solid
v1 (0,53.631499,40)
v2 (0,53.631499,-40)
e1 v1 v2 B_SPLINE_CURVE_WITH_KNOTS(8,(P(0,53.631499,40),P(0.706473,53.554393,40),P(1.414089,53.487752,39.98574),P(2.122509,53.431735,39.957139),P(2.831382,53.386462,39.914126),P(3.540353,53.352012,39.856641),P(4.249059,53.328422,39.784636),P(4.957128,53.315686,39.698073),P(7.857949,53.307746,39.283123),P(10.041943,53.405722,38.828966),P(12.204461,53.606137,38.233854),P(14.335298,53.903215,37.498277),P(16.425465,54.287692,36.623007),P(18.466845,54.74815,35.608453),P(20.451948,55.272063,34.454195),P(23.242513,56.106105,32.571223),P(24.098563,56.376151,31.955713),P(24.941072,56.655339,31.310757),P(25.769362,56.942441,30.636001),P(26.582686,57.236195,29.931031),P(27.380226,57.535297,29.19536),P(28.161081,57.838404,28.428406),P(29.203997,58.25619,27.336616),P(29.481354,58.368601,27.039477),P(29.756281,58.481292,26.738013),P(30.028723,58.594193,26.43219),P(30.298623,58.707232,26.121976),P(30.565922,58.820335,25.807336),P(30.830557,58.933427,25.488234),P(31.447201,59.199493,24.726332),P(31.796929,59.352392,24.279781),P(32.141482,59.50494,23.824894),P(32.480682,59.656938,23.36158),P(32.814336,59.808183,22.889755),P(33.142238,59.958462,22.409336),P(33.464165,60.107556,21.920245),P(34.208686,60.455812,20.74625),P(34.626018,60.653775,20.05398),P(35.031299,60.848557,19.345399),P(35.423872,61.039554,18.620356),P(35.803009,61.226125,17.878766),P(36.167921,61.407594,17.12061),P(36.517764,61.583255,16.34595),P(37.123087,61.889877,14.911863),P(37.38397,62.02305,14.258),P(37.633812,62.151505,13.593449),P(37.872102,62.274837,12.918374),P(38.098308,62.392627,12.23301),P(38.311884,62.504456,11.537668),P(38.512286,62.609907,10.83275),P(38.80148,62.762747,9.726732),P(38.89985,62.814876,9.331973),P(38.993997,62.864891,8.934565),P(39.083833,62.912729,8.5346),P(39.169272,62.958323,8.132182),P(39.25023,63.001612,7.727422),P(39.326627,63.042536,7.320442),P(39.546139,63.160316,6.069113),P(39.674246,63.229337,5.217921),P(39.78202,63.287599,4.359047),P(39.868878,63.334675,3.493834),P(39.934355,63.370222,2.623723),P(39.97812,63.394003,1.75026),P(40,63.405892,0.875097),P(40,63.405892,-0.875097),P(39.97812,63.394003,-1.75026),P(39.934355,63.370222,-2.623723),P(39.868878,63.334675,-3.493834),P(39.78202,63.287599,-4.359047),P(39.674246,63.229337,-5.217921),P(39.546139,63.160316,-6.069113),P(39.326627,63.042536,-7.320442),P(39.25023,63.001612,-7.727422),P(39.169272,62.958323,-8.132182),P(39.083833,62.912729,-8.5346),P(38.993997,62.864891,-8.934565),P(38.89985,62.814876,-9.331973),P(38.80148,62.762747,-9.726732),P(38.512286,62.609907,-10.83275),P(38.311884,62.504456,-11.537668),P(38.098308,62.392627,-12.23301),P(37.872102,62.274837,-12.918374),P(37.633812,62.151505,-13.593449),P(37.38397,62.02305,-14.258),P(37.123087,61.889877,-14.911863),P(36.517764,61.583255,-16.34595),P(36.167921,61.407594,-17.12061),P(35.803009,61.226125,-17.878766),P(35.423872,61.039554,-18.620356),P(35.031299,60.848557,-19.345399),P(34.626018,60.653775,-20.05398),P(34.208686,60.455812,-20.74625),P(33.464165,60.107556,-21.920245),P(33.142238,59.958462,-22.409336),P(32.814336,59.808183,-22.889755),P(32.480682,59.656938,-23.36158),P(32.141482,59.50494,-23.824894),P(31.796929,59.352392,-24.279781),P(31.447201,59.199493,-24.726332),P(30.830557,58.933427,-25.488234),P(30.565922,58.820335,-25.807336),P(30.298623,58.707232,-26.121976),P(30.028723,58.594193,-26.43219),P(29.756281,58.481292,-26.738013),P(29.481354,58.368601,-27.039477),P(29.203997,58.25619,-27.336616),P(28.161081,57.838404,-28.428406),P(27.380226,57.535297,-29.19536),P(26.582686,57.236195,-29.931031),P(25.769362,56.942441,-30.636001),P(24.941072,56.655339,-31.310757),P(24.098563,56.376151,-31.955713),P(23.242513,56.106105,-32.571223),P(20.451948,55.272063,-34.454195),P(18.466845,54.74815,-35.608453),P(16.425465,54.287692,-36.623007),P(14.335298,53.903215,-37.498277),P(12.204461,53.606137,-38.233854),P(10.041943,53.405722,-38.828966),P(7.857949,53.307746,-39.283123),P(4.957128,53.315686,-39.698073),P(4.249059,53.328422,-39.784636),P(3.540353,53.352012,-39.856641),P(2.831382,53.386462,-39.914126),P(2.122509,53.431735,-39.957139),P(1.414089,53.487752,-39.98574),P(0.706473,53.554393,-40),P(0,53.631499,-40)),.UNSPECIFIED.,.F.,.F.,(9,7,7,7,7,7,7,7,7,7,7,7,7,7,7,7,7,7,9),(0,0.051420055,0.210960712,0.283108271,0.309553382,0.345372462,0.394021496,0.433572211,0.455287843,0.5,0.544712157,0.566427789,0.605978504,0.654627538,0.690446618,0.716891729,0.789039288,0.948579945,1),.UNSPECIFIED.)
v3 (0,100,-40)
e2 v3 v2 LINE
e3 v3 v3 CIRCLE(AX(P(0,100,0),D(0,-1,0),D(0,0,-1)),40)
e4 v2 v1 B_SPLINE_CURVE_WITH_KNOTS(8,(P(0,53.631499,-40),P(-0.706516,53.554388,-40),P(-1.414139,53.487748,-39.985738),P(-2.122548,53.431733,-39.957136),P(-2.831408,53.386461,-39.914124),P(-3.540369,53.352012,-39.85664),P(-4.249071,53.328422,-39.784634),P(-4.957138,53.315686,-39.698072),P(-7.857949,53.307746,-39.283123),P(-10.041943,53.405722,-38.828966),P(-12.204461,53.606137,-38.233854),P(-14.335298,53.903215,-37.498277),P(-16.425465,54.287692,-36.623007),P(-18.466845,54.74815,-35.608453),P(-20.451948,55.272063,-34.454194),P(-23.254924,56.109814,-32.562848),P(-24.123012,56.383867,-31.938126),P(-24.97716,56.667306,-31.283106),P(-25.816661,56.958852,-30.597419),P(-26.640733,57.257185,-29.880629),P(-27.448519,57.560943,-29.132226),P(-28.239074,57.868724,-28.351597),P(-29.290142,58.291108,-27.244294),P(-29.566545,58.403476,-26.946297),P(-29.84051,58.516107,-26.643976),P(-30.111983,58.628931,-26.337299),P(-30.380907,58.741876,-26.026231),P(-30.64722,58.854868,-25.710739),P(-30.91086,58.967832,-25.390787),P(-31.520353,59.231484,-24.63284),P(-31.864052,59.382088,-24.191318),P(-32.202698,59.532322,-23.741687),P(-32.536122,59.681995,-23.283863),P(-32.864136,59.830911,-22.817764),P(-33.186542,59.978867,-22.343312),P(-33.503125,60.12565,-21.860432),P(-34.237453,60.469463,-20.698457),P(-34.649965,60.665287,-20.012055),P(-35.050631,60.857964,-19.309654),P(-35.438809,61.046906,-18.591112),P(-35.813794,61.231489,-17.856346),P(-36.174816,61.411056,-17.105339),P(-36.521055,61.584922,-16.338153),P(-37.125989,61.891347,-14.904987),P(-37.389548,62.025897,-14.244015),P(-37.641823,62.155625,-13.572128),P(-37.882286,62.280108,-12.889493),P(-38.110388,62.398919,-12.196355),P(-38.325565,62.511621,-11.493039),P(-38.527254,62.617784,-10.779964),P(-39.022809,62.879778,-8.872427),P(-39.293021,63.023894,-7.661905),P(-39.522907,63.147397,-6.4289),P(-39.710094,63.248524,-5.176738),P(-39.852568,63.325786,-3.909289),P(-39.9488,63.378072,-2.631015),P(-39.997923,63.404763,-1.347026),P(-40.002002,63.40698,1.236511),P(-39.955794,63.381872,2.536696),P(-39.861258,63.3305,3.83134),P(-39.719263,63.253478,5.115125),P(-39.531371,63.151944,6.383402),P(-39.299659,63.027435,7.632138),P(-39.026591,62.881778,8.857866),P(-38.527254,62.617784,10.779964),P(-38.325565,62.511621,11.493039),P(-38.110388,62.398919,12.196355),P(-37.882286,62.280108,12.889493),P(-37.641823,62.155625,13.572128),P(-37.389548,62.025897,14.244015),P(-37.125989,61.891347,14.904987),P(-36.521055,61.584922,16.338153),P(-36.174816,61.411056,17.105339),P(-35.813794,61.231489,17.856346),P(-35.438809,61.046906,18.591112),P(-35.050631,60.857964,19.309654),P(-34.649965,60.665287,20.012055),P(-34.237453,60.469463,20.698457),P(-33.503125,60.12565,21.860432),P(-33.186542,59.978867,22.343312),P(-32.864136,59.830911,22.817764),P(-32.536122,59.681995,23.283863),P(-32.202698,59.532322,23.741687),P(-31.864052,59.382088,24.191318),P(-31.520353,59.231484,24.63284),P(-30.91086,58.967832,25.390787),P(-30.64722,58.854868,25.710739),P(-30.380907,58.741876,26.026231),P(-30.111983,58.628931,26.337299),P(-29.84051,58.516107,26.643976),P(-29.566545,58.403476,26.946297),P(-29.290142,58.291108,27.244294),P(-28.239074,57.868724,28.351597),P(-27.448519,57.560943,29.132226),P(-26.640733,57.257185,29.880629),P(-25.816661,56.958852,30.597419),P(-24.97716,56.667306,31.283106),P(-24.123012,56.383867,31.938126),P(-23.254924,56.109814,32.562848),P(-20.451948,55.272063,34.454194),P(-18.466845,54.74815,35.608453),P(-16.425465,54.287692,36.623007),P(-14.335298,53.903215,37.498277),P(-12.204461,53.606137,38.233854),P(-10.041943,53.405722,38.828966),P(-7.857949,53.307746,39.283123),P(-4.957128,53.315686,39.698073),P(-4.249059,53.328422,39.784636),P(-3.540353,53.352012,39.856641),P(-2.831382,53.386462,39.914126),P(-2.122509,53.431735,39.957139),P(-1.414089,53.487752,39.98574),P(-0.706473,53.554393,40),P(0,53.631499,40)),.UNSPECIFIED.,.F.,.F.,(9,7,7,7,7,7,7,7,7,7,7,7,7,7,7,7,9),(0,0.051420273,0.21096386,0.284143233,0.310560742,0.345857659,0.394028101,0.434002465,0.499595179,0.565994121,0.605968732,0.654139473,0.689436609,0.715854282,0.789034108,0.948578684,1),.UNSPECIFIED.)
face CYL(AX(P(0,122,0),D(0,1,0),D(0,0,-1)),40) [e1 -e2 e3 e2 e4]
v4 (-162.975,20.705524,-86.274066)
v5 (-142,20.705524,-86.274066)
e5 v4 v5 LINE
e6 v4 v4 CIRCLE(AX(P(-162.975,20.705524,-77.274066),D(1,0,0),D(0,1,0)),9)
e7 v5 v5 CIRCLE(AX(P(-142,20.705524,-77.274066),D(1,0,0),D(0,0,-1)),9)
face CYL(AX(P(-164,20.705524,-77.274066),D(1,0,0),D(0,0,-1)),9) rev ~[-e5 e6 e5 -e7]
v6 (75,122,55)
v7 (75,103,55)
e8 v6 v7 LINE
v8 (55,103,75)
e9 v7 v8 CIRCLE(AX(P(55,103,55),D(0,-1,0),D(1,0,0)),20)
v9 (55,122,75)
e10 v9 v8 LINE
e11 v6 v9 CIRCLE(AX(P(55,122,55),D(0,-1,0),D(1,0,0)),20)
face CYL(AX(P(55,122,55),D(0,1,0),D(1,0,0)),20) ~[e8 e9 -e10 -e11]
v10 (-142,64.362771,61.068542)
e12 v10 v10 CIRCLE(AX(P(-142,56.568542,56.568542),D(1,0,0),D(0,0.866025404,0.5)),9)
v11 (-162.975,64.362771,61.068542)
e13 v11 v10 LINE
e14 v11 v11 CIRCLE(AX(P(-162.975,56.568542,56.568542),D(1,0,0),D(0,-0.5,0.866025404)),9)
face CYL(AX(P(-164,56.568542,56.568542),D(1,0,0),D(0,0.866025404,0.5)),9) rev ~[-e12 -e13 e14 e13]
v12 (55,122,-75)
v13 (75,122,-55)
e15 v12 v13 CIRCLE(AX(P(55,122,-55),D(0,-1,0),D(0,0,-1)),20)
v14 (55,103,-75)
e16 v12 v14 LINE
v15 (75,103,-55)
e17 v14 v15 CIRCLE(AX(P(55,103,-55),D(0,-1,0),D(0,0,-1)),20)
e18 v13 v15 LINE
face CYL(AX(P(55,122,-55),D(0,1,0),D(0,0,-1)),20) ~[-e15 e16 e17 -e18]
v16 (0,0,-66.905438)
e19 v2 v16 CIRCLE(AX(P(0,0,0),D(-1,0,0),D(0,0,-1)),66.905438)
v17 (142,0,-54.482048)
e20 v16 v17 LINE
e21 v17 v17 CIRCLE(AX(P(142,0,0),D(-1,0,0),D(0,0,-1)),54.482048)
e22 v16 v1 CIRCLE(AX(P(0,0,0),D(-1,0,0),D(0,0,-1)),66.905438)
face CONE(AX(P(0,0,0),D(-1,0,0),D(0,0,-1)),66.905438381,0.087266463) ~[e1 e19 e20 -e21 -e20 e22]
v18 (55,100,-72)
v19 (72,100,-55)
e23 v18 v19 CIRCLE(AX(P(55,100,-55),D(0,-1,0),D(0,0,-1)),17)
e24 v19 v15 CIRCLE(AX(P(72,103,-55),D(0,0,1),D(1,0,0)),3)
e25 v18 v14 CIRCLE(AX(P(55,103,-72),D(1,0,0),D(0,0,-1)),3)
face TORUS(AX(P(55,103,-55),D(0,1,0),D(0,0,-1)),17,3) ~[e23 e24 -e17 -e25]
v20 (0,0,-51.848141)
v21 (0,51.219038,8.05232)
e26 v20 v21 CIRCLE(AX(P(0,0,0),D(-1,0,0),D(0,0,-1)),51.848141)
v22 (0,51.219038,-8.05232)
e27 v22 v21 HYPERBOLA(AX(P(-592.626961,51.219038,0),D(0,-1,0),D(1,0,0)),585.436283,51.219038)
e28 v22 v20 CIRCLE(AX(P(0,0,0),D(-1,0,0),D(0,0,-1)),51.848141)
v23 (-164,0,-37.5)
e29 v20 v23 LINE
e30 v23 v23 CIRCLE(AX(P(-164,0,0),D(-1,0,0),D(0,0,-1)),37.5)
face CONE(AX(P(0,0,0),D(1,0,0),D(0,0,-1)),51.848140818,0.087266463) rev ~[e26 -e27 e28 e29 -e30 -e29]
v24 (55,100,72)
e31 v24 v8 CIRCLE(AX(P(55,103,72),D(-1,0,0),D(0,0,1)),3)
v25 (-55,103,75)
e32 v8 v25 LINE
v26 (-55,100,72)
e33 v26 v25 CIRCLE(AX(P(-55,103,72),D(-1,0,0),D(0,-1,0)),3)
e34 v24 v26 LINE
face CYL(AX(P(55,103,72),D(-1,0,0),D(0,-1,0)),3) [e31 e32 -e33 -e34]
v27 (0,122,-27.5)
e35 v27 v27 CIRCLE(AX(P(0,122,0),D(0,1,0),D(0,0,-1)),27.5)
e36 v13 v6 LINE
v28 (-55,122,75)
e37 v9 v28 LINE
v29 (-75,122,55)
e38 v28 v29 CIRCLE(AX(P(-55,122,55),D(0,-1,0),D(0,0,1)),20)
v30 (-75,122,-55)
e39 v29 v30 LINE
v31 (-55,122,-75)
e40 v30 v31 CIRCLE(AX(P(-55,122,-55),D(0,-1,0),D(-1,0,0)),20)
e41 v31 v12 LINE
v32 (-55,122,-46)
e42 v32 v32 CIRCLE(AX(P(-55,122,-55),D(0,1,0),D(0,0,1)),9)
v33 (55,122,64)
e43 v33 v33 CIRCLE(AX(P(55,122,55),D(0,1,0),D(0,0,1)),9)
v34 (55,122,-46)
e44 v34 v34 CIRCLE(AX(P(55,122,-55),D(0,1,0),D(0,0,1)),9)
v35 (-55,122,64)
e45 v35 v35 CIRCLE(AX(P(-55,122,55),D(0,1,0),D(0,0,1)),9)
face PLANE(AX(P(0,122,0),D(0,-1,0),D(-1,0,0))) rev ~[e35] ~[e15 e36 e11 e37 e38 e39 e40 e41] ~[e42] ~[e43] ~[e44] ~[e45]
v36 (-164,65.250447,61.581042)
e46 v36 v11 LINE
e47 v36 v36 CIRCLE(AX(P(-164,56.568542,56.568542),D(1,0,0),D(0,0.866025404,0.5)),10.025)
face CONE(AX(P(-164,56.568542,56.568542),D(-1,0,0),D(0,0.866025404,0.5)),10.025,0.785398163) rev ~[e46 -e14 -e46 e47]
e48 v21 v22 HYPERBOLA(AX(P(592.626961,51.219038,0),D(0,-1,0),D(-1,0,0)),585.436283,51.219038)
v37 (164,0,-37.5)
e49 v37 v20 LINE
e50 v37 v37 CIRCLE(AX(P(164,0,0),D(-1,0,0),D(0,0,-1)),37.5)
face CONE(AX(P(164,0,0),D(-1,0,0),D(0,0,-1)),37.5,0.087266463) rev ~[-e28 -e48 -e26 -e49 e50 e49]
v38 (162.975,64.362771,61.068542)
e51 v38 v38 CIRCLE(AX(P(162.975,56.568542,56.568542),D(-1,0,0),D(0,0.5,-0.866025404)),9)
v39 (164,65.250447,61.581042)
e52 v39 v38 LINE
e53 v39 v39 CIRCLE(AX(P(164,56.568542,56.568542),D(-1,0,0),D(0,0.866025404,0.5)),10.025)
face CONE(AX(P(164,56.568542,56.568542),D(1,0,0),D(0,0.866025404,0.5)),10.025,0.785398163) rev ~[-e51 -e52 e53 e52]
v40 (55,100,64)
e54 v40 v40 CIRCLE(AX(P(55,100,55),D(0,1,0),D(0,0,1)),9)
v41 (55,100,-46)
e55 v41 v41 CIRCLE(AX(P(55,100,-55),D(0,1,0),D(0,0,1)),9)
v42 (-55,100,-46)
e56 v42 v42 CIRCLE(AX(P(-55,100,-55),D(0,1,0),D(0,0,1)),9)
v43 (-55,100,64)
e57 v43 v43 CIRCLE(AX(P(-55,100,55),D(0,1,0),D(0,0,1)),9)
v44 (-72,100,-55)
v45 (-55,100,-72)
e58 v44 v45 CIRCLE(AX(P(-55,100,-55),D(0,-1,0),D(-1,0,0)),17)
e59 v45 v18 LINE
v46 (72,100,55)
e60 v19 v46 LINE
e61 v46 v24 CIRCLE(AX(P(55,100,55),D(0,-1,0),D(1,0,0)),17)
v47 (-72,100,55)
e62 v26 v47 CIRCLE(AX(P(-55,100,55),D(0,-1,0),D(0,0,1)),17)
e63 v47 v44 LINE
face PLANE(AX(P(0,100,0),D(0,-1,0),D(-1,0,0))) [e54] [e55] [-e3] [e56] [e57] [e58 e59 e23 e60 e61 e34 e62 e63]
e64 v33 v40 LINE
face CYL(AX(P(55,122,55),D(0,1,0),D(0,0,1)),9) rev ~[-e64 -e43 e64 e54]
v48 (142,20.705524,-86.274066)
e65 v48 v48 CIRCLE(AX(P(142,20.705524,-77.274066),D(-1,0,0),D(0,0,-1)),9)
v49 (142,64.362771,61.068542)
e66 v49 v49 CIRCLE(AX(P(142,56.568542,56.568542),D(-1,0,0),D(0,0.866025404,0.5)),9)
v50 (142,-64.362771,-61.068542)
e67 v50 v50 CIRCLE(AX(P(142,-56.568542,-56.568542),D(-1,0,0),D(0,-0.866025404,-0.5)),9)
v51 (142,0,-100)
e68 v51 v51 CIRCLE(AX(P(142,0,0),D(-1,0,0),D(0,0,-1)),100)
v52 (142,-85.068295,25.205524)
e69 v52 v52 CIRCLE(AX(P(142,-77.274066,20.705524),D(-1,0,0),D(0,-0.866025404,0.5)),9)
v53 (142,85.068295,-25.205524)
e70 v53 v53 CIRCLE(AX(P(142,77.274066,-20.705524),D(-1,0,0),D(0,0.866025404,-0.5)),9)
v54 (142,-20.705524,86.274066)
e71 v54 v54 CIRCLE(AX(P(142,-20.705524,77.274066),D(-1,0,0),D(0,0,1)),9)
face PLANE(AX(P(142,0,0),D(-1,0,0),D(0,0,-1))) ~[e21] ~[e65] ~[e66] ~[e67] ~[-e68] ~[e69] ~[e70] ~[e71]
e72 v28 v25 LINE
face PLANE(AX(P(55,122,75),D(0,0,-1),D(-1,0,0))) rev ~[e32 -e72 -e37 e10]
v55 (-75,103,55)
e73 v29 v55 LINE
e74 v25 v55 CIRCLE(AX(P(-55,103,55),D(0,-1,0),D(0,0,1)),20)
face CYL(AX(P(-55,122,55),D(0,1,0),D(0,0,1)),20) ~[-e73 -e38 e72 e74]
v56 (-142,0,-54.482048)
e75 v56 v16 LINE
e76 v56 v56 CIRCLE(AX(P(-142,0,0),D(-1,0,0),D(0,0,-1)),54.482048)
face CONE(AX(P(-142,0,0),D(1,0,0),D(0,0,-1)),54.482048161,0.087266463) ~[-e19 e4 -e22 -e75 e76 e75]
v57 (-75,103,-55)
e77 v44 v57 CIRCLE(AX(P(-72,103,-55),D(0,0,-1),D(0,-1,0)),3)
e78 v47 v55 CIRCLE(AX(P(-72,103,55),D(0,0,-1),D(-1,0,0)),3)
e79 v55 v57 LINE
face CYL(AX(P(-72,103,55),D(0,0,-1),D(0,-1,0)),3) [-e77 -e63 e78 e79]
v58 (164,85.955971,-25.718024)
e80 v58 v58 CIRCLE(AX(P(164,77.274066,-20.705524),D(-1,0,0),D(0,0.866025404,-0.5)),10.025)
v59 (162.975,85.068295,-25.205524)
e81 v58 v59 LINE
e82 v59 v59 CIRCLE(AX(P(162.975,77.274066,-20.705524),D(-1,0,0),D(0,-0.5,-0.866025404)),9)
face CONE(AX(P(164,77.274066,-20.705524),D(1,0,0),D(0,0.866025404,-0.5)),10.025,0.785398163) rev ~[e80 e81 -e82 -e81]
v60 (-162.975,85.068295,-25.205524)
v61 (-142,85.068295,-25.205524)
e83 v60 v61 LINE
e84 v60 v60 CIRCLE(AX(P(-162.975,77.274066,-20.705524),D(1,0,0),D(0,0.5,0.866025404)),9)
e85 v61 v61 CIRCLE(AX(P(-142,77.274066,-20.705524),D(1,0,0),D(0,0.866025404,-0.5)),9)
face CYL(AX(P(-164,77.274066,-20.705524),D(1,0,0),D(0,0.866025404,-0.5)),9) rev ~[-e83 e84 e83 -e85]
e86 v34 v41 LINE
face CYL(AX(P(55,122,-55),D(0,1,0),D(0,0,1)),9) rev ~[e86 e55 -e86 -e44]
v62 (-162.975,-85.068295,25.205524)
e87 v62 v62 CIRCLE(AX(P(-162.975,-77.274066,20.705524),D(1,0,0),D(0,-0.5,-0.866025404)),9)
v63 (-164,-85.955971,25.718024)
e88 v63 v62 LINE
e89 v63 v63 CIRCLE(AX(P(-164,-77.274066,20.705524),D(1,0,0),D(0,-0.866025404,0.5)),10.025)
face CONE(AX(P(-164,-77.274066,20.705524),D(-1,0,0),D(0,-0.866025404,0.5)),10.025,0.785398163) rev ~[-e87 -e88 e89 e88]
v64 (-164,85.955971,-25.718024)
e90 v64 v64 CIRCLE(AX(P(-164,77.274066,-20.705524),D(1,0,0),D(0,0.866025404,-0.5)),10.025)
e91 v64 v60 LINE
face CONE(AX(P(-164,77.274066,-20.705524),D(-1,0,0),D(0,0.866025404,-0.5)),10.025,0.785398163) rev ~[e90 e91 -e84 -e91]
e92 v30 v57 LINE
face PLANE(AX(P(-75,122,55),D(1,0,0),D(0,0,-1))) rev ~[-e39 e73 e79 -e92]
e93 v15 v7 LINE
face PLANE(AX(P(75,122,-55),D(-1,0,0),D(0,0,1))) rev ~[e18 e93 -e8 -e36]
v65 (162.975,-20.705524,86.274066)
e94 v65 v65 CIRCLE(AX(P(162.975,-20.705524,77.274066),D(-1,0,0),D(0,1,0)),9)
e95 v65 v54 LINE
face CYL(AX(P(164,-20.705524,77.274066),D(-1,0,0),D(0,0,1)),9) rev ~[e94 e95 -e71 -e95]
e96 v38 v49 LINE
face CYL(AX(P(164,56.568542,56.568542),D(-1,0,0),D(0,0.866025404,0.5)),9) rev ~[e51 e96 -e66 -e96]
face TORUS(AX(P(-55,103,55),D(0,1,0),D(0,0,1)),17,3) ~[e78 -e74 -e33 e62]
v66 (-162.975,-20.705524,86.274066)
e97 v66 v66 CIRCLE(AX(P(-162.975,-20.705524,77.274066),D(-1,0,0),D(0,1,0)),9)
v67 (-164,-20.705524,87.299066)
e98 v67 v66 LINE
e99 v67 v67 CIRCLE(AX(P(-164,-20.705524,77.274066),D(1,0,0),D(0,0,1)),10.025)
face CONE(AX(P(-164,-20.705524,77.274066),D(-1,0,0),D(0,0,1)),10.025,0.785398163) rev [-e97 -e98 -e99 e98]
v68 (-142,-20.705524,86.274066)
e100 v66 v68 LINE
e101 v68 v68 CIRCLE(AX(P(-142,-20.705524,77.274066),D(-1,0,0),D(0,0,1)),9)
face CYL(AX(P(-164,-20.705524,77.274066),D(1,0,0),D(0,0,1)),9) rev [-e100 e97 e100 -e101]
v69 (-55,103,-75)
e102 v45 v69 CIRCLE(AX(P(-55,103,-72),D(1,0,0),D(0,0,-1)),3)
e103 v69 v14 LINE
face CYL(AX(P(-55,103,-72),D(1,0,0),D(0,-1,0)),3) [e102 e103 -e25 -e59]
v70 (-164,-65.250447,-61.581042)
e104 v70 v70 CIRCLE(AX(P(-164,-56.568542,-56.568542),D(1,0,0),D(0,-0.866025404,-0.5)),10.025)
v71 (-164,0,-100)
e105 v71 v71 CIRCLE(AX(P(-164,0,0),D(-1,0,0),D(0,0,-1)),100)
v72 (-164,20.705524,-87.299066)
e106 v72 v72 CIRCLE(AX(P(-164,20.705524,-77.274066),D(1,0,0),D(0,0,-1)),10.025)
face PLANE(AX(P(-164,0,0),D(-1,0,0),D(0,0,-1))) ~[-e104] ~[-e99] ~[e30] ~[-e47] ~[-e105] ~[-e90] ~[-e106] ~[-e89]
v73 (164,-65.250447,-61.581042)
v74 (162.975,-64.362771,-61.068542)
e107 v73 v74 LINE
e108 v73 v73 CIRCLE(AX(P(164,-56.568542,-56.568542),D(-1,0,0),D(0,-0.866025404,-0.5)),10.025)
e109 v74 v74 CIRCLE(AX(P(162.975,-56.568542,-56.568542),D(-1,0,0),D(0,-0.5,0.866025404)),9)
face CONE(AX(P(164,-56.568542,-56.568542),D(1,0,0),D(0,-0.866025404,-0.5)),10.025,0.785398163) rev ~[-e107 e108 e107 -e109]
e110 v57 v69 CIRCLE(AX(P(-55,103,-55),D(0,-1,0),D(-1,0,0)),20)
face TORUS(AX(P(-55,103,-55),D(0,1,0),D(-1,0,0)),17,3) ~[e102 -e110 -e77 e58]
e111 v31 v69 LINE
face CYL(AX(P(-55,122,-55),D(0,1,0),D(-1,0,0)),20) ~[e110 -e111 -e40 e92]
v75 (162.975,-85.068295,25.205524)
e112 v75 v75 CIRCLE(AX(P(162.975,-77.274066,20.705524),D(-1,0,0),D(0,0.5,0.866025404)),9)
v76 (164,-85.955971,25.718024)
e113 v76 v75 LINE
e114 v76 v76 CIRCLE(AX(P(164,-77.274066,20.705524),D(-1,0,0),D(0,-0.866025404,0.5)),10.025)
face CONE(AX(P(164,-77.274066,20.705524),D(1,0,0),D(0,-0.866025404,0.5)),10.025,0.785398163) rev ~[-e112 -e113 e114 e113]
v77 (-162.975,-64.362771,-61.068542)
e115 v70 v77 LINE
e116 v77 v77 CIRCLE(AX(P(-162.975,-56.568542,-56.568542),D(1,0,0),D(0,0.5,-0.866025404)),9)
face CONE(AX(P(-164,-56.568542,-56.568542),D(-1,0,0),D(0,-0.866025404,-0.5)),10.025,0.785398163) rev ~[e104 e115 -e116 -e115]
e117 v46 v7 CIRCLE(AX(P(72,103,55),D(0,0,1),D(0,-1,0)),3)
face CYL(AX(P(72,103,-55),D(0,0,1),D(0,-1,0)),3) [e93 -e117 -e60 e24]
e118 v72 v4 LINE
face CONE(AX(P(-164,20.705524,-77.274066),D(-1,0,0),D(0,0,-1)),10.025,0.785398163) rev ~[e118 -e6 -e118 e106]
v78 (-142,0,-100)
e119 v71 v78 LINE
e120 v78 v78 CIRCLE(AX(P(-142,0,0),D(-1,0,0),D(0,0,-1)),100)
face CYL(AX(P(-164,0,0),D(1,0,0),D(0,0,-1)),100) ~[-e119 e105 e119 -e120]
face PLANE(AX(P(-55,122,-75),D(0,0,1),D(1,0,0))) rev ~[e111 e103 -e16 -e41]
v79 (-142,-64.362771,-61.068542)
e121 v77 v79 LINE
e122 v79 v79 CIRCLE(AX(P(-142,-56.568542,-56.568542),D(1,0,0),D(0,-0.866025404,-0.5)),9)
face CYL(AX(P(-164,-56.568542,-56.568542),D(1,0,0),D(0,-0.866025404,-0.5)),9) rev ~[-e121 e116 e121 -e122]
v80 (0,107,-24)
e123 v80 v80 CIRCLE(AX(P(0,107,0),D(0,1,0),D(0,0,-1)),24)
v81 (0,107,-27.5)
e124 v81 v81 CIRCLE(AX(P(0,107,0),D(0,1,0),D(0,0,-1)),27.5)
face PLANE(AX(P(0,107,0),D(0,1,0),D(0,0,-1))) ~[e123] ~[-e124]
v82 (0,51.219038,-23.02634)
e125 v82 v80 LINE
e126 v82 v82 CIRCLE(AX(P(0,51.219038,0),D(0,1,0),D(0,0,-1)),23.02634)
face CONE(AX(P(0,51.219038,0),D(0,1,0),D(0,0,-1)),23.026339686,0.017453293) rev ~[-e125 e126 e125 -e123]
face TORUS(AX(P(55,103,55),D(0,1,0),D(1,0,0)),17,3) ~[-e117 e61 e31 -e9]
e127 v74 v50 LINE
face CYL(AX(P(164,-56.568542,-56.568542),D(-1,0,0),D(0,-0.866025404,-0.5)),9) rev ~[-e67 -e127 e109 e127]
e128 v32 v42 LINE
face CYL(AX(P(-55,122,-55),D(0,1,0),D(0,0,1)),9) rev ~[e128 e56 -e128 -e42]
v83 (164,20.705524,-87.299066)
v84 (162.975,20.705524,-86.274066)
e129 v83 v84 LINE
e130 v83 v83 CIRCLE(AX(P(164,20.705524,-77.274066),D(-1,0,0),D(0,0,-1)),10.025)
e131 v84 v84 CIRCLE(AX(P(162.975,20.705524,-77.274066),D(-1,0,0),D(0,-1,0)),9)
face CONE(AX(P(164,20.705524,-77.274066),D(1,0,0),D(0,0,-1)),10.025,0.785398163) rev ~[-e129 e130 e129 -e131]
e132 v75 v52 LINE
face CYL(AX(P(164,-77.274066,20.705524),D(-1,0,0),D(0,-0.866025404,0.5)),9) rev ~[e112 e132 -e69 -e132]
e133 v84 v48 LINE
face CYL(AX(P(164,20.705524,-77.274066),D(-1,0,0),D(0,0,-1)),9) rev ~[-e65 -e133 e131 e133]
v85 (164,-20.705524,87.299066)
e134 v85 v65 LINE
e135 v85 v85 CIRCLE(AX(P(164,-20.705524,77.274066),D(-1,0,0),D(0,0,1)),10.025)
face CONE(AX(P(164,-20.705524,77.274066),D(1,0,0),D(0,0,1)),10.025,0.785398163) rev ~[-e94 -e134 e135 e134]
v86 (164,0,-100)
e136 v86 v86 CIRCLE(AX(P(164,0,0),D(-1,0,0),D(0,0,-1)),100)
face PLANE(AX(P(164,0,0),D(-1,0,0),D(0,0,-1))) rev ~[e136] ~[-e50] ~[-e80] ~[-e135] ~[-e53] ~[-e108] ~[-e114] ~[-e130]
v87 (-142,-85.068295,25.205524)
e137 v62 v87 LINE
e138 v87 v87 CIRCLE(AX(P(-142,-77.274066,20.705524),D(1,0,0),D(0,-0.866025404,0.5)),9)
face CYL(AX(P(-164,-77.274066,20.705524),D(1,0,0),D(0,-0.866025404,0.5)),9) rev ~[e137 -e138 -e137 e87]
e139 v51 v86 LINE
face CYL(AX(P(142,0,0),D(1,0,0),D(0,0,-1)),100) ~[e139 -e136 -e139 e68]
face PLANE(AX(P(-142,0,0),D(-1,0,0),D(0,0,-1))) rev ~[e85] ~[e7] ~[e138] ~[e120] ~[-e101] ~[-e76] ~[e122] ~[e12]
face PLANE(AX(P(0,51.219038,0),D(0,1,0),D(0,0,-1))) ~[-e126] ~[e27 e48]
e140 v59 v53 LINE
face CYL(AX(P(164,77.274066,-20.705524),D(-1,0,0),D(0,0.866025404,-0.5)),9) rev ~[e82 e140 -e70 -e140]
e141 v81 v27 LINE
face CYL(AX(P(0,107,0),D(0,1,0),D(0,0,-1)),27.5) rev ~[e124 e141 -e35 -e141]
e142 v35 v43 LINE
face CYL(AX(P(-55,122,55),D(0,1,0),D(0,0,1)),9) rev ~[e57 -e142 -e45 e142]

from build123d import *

# Parameters (mm, degrees)
SKETCH6_R                        = 40
SKETCH6_R_2                      = 9
BOSS_EXTRUDE2_DEPTH              = 22
BOSS_EXTRUDE3_REACH              = 295.564
SKETCH6_2_R                      = 40
FILLET1_R                        = 3
F_20_0MM_DOWEL_HOLE2_D           = 18
F_20_0MM_DOWEL_HOLE2_DEPTH       = 22
F_20_0MM_DOWEL_HOLE2_CSINK_D     = 20.05
F_20_0MM_DOWEL_HOLE2_CSINK_ANGLE = 90
CIRPATTERN5_COUNT                = 6
MIRROR1_COPY_1_D                 = 18
MIRROR1_COPY_1_DEPTH             = 22
MIRROR1_COPY_1_CSINK_D           = 20.05
MIRROR1_COPY_1_CSINK_ANGLE       = 90
MIRROR1_COPY_2_D                 = 18
MIRROR1_COPY_2_DEPTH             = 22
MIRROR1_COPY_2_CSINK_D           = 20.05
MIRROR1_COPY_2_CSINK_ANGLE       = 90
MIRROR1_COPY_3_D                 = 18
MIRROR1_COPY_3_DEPTH             = 22
MIRROR1_COPY_3_CSINK_D           = 20.05
MIRROR1_COPY_3_CSINK_ANGLE       = 90
MIRROR1_COPY_4_D                 = 18
MIRROR1_COPY_4_DEPTH             = 22
MIRROR1_COPY_4_CSINK_D           = 20.05
MIRROR1_COPY_4_CSINK_ANGLE       = 90
MIRROR1_COPY_5_D                 = 18
MIRROR1_COPY_5_DEPTH             = 22
MIRROR1_COPY_5_CSINK_D           = 20.05
MIRROR1_COPY_5_CSINK_ANGLE       = 90


with BuildPart() as part:
    # Sketch1 → Revolve1 (revolve)
    with BuildSketch(Plane.XY, mode=Mode.PRIVATE) as revolve1_sk:
        Polygon((0, -51.848140818), (-164, -37.5), (-164, -100), (-142, -100), (-142, -54.482048161), (0, -66.905438381), (142, -54.482048161), (142, -100), (164, -100), (164, -37.5), align=None)
    revolve(revolve1_sk.sketch.rotate(Axis((0, 0, 0), (-1, 0, 0)), 270), axis=Axis((0, 0, 0), (-1, 0, 0)))

    # Sketch6<2> → Boss-Extrude3 (add, up to next)
    with BuildSketch(Plane(origin=(0, 122, 0), x_dir=(1, 0, 0), z_dir=(0, 1, 0)), mode=Mode.PRIVATE) as boss_extrude3_sk1:
        with Locations(Location((0, 0, 0), (0, 0, 90))):
            Circle(SKETCH6_2_R)
    boss_extrude3_tool1 = extrude(boss_extrude3_sk1.sketch, amount=-BOSS_EXTRUDE3_REACH, mode=Mode.PRIVATE) - part.part


with BuildPart() as body_2:
    # Sketch6 → Boss-Extrude2 (new body)
    with BuildSketch(Plane(origin=(0, 122, 0), x_dir=(1, 0, 0), z_dir=(0, 1, 0))):
        with BuildLine():
            Line((-55, 75), (55, 75))
            ThreePointArc((55, 75), (69.142135624, 69.142135624), (75, 55))
            Line((75, 55), (75, -55))
            ThreePointArc((75, -55), (69.142135624, -69.142135624), (55, -75))
            Line((55, -75), (-55, -75))
            ThreePointArc((-55, -75), (-69.142135624, -69.142135624), (-75, -55))
            Line((-75, -55), (-75, 55))
            ThreePointArc((-75, 55), (-69.142135624, 69.142135624), (-55, 75))
        make_face()
        with Locations(Location((0, 0, 0), (0, 0, 270))):
            Circle(SKETCH6_R, mode=Mode.SUBTRACT)
        with Locations(Location((-55, 55, 0), (0, 0, 270))):
            Circle(SKETCH6_R_2, mode=Mode.SUBTRACT)
        with Locations(Location((-55, -55, 0), (0, 0, 270))):
            Circle(SKETCH6_R_2, mode=Mode.SUBTRACT)
        with Locations(Location((55, -55, 0), (0, 0, 270))):
            Circle(SKETCH6_R_2, mode=Mode.SUBTRACT)
        with Locations(Location((55, 55, 0), (0, 0, 270))):
            Circle(SKETCH6_R_2, mode=Mode.SUBTRACT)
    extrude(amount=-BOSS_EXTRUDE2_DEPTH)


with BuildPart() as part_1:
    add(part.part)

    add(body_2.part)  # Boss-Extrude3 merges body 2
    add(boss_extrude3_tool1.solids().sort_by_distance((0, 122, 0))[0])

    # Sketch8 → Cut-Revolve1 (revolve, cut)
    with BuildSketch(Plane.XY, mode=Mode.PRIVATE) as cut_revolve1_sk:
        Polygon((0, 122), (0, 51.219037993), (23.026339686, 51.219037993), (24, 107), (27.5, 107), (27.5, 122), align=None)
    revolve(cut_revolve1_sk.sketch.rotate(Axis((0, -127.507832113, 0), (0, 1, 0)), 90), axis=Axis((0, -127.507832113, 0), (0, 1, 0)), mode=Mode.SUBTRACT)

    # Fillet1
    fillet1_edges = [part_1.edges().sort_by_distance(p)[0] for p in [
        (69.142135624, 100, -69.142135624),
        (75, 100, 0),
        (69.142135624, 100, 69.142135624),
        (0, 100, 75),
        (-69.142135624, 100, 69.142135624),
        (-75, 100, 0),
        (-69.142135624, 100, -69.142135624),
        (0, 100, -75),
    ]]
    fillet(fillet1_edges, radius=FILLET1_R)

    # Ø20.0mm Dowel Hole2
    with Locations(Plane(origin=(164, 0, 0), x_dir=(0, 0, -1), z_dir=(1, 0, 0))):
        with Locations((-77.274066103, -20.705523608)):
            f_20_0mm_dowel_hole2 = CounterSinkHole(F_20_0MM_DOWEL_HOLE2_D / 2, F_20_0MM_DOWEL_HOLE2_CSINK_D / 2, depth=F_20_0MM_DOWEL_HOLE2_DEPTH, counter_sink_angle=F_20_0MM_DOWEL_HOLE2_CSINK_ANGLE)

    # CirPattern5: Ø20.0mm Dowel Hole2 ×6 about axis
    cirpattern5_axis = Axis((0, 0, 0), (1, 0, 0))
    for i in range(1, CIRPATTERN5_COUNT):
        add(f_20_0mm_dowel_hole2.rotate(cirpattern5_axis, i * 360 / CIRPATTERN5_COUNT), mode=Mode.SUBTRACT)

    # Mirror1: Ø20.0mm Dowel Hole2 across plane
    add(f_20_0mm_dowel_hole2.mirror(Plane(origin=(0, 0, 0), x_dir=(0, 0, 1), z_dir=(1, 0, 0))), mode=Mode.SUBTRACT)

    # Mirror1 copy 1
    with Locations(Plane(origin=(-164, 0, 0), x_dir=(0, 0.8660254037844386, -0.5000000000000001), z_dir=(-1, 0, 0))):
        with Locations((-77.274066103, 20.705523608)):
            CounterSinkHole(MIRROR1_COPY_1_D / 2, MIRROR1_COPY_1_CSINK_D / 2, depth=MIRROR1_COPY_1_DEPTH, counter_sink_angle=MIRROR1_COPY_1_CSINK_ANGLE)

    # Mirror1 copy 2
    with Locations(Plane(origin=(-164, 0, 0), x_dir=(0, 0.8660254037844387, 0.4999999999999998), z_dir=(-1, 0, 0))):
        with Locations((-77.274066103, 20.705523608)):
            CounterSinkHole(MIRROR1_COPY_2_D / 2, MIRROR1_COPY_2_CSINK_D / 2, depth=MIRROR1_COPY_2_DEPTH, counter_sink_angle=MIRROR1_COPY_2_CSINK_ANGLE)

    # Mirror1 copy 3
    with Locations(Plane.ZY.offset(164)):
        with Locations((-77.274066103, 20.705523608)):
            CounterSinkHole(MIRROR1_COPY_3_D / 2, MIRROR1_COPY_3_CSINK_D / 2, depth=MIRROR1_COPY_3_DEPTH, counter_sink_angle=MIRROR1_COPY_3_CSINK_ANGLE)

    # Mirror1 copy 4
    with Locations(Plane(origin=(-164, 0, 0), x_dir=(0, -0.8660254037844384, 0.5000000000000004), z_dir=(-1, 0, 0))):
        with Locations((-77.274066103, 20.705523608)):
            CounterSinkHole(MIRROR1_COPY_4_D / 2, MIRROR1_COPY_4_CSINK_D / 2, depth=MIRROR1_COPY_4_DEPTH, counter_sink_angle=MIRROR1_COPY_4_CSINK_ANGLE)

    # Mirror1 copy 5
    with Locations(Plane(origin=(-164, 0, 0), x_dir=(0, -0.8660254037844386, -0.5000000000000001), z_dir=(-1, 0, 0))):
        with Locations((-77.274066103, 20.705523608)):
            CounterSinkHole(MIRROR1_COPY_5_D / 2, MIRROR1_COPY_5_CSINK_D / 2, depth=MIRROR1_COPY_5_DEPTH, counter_sink_angle=MIRROR1_COPY_5_CSINK_ANGLE)


solid = part_1.part
